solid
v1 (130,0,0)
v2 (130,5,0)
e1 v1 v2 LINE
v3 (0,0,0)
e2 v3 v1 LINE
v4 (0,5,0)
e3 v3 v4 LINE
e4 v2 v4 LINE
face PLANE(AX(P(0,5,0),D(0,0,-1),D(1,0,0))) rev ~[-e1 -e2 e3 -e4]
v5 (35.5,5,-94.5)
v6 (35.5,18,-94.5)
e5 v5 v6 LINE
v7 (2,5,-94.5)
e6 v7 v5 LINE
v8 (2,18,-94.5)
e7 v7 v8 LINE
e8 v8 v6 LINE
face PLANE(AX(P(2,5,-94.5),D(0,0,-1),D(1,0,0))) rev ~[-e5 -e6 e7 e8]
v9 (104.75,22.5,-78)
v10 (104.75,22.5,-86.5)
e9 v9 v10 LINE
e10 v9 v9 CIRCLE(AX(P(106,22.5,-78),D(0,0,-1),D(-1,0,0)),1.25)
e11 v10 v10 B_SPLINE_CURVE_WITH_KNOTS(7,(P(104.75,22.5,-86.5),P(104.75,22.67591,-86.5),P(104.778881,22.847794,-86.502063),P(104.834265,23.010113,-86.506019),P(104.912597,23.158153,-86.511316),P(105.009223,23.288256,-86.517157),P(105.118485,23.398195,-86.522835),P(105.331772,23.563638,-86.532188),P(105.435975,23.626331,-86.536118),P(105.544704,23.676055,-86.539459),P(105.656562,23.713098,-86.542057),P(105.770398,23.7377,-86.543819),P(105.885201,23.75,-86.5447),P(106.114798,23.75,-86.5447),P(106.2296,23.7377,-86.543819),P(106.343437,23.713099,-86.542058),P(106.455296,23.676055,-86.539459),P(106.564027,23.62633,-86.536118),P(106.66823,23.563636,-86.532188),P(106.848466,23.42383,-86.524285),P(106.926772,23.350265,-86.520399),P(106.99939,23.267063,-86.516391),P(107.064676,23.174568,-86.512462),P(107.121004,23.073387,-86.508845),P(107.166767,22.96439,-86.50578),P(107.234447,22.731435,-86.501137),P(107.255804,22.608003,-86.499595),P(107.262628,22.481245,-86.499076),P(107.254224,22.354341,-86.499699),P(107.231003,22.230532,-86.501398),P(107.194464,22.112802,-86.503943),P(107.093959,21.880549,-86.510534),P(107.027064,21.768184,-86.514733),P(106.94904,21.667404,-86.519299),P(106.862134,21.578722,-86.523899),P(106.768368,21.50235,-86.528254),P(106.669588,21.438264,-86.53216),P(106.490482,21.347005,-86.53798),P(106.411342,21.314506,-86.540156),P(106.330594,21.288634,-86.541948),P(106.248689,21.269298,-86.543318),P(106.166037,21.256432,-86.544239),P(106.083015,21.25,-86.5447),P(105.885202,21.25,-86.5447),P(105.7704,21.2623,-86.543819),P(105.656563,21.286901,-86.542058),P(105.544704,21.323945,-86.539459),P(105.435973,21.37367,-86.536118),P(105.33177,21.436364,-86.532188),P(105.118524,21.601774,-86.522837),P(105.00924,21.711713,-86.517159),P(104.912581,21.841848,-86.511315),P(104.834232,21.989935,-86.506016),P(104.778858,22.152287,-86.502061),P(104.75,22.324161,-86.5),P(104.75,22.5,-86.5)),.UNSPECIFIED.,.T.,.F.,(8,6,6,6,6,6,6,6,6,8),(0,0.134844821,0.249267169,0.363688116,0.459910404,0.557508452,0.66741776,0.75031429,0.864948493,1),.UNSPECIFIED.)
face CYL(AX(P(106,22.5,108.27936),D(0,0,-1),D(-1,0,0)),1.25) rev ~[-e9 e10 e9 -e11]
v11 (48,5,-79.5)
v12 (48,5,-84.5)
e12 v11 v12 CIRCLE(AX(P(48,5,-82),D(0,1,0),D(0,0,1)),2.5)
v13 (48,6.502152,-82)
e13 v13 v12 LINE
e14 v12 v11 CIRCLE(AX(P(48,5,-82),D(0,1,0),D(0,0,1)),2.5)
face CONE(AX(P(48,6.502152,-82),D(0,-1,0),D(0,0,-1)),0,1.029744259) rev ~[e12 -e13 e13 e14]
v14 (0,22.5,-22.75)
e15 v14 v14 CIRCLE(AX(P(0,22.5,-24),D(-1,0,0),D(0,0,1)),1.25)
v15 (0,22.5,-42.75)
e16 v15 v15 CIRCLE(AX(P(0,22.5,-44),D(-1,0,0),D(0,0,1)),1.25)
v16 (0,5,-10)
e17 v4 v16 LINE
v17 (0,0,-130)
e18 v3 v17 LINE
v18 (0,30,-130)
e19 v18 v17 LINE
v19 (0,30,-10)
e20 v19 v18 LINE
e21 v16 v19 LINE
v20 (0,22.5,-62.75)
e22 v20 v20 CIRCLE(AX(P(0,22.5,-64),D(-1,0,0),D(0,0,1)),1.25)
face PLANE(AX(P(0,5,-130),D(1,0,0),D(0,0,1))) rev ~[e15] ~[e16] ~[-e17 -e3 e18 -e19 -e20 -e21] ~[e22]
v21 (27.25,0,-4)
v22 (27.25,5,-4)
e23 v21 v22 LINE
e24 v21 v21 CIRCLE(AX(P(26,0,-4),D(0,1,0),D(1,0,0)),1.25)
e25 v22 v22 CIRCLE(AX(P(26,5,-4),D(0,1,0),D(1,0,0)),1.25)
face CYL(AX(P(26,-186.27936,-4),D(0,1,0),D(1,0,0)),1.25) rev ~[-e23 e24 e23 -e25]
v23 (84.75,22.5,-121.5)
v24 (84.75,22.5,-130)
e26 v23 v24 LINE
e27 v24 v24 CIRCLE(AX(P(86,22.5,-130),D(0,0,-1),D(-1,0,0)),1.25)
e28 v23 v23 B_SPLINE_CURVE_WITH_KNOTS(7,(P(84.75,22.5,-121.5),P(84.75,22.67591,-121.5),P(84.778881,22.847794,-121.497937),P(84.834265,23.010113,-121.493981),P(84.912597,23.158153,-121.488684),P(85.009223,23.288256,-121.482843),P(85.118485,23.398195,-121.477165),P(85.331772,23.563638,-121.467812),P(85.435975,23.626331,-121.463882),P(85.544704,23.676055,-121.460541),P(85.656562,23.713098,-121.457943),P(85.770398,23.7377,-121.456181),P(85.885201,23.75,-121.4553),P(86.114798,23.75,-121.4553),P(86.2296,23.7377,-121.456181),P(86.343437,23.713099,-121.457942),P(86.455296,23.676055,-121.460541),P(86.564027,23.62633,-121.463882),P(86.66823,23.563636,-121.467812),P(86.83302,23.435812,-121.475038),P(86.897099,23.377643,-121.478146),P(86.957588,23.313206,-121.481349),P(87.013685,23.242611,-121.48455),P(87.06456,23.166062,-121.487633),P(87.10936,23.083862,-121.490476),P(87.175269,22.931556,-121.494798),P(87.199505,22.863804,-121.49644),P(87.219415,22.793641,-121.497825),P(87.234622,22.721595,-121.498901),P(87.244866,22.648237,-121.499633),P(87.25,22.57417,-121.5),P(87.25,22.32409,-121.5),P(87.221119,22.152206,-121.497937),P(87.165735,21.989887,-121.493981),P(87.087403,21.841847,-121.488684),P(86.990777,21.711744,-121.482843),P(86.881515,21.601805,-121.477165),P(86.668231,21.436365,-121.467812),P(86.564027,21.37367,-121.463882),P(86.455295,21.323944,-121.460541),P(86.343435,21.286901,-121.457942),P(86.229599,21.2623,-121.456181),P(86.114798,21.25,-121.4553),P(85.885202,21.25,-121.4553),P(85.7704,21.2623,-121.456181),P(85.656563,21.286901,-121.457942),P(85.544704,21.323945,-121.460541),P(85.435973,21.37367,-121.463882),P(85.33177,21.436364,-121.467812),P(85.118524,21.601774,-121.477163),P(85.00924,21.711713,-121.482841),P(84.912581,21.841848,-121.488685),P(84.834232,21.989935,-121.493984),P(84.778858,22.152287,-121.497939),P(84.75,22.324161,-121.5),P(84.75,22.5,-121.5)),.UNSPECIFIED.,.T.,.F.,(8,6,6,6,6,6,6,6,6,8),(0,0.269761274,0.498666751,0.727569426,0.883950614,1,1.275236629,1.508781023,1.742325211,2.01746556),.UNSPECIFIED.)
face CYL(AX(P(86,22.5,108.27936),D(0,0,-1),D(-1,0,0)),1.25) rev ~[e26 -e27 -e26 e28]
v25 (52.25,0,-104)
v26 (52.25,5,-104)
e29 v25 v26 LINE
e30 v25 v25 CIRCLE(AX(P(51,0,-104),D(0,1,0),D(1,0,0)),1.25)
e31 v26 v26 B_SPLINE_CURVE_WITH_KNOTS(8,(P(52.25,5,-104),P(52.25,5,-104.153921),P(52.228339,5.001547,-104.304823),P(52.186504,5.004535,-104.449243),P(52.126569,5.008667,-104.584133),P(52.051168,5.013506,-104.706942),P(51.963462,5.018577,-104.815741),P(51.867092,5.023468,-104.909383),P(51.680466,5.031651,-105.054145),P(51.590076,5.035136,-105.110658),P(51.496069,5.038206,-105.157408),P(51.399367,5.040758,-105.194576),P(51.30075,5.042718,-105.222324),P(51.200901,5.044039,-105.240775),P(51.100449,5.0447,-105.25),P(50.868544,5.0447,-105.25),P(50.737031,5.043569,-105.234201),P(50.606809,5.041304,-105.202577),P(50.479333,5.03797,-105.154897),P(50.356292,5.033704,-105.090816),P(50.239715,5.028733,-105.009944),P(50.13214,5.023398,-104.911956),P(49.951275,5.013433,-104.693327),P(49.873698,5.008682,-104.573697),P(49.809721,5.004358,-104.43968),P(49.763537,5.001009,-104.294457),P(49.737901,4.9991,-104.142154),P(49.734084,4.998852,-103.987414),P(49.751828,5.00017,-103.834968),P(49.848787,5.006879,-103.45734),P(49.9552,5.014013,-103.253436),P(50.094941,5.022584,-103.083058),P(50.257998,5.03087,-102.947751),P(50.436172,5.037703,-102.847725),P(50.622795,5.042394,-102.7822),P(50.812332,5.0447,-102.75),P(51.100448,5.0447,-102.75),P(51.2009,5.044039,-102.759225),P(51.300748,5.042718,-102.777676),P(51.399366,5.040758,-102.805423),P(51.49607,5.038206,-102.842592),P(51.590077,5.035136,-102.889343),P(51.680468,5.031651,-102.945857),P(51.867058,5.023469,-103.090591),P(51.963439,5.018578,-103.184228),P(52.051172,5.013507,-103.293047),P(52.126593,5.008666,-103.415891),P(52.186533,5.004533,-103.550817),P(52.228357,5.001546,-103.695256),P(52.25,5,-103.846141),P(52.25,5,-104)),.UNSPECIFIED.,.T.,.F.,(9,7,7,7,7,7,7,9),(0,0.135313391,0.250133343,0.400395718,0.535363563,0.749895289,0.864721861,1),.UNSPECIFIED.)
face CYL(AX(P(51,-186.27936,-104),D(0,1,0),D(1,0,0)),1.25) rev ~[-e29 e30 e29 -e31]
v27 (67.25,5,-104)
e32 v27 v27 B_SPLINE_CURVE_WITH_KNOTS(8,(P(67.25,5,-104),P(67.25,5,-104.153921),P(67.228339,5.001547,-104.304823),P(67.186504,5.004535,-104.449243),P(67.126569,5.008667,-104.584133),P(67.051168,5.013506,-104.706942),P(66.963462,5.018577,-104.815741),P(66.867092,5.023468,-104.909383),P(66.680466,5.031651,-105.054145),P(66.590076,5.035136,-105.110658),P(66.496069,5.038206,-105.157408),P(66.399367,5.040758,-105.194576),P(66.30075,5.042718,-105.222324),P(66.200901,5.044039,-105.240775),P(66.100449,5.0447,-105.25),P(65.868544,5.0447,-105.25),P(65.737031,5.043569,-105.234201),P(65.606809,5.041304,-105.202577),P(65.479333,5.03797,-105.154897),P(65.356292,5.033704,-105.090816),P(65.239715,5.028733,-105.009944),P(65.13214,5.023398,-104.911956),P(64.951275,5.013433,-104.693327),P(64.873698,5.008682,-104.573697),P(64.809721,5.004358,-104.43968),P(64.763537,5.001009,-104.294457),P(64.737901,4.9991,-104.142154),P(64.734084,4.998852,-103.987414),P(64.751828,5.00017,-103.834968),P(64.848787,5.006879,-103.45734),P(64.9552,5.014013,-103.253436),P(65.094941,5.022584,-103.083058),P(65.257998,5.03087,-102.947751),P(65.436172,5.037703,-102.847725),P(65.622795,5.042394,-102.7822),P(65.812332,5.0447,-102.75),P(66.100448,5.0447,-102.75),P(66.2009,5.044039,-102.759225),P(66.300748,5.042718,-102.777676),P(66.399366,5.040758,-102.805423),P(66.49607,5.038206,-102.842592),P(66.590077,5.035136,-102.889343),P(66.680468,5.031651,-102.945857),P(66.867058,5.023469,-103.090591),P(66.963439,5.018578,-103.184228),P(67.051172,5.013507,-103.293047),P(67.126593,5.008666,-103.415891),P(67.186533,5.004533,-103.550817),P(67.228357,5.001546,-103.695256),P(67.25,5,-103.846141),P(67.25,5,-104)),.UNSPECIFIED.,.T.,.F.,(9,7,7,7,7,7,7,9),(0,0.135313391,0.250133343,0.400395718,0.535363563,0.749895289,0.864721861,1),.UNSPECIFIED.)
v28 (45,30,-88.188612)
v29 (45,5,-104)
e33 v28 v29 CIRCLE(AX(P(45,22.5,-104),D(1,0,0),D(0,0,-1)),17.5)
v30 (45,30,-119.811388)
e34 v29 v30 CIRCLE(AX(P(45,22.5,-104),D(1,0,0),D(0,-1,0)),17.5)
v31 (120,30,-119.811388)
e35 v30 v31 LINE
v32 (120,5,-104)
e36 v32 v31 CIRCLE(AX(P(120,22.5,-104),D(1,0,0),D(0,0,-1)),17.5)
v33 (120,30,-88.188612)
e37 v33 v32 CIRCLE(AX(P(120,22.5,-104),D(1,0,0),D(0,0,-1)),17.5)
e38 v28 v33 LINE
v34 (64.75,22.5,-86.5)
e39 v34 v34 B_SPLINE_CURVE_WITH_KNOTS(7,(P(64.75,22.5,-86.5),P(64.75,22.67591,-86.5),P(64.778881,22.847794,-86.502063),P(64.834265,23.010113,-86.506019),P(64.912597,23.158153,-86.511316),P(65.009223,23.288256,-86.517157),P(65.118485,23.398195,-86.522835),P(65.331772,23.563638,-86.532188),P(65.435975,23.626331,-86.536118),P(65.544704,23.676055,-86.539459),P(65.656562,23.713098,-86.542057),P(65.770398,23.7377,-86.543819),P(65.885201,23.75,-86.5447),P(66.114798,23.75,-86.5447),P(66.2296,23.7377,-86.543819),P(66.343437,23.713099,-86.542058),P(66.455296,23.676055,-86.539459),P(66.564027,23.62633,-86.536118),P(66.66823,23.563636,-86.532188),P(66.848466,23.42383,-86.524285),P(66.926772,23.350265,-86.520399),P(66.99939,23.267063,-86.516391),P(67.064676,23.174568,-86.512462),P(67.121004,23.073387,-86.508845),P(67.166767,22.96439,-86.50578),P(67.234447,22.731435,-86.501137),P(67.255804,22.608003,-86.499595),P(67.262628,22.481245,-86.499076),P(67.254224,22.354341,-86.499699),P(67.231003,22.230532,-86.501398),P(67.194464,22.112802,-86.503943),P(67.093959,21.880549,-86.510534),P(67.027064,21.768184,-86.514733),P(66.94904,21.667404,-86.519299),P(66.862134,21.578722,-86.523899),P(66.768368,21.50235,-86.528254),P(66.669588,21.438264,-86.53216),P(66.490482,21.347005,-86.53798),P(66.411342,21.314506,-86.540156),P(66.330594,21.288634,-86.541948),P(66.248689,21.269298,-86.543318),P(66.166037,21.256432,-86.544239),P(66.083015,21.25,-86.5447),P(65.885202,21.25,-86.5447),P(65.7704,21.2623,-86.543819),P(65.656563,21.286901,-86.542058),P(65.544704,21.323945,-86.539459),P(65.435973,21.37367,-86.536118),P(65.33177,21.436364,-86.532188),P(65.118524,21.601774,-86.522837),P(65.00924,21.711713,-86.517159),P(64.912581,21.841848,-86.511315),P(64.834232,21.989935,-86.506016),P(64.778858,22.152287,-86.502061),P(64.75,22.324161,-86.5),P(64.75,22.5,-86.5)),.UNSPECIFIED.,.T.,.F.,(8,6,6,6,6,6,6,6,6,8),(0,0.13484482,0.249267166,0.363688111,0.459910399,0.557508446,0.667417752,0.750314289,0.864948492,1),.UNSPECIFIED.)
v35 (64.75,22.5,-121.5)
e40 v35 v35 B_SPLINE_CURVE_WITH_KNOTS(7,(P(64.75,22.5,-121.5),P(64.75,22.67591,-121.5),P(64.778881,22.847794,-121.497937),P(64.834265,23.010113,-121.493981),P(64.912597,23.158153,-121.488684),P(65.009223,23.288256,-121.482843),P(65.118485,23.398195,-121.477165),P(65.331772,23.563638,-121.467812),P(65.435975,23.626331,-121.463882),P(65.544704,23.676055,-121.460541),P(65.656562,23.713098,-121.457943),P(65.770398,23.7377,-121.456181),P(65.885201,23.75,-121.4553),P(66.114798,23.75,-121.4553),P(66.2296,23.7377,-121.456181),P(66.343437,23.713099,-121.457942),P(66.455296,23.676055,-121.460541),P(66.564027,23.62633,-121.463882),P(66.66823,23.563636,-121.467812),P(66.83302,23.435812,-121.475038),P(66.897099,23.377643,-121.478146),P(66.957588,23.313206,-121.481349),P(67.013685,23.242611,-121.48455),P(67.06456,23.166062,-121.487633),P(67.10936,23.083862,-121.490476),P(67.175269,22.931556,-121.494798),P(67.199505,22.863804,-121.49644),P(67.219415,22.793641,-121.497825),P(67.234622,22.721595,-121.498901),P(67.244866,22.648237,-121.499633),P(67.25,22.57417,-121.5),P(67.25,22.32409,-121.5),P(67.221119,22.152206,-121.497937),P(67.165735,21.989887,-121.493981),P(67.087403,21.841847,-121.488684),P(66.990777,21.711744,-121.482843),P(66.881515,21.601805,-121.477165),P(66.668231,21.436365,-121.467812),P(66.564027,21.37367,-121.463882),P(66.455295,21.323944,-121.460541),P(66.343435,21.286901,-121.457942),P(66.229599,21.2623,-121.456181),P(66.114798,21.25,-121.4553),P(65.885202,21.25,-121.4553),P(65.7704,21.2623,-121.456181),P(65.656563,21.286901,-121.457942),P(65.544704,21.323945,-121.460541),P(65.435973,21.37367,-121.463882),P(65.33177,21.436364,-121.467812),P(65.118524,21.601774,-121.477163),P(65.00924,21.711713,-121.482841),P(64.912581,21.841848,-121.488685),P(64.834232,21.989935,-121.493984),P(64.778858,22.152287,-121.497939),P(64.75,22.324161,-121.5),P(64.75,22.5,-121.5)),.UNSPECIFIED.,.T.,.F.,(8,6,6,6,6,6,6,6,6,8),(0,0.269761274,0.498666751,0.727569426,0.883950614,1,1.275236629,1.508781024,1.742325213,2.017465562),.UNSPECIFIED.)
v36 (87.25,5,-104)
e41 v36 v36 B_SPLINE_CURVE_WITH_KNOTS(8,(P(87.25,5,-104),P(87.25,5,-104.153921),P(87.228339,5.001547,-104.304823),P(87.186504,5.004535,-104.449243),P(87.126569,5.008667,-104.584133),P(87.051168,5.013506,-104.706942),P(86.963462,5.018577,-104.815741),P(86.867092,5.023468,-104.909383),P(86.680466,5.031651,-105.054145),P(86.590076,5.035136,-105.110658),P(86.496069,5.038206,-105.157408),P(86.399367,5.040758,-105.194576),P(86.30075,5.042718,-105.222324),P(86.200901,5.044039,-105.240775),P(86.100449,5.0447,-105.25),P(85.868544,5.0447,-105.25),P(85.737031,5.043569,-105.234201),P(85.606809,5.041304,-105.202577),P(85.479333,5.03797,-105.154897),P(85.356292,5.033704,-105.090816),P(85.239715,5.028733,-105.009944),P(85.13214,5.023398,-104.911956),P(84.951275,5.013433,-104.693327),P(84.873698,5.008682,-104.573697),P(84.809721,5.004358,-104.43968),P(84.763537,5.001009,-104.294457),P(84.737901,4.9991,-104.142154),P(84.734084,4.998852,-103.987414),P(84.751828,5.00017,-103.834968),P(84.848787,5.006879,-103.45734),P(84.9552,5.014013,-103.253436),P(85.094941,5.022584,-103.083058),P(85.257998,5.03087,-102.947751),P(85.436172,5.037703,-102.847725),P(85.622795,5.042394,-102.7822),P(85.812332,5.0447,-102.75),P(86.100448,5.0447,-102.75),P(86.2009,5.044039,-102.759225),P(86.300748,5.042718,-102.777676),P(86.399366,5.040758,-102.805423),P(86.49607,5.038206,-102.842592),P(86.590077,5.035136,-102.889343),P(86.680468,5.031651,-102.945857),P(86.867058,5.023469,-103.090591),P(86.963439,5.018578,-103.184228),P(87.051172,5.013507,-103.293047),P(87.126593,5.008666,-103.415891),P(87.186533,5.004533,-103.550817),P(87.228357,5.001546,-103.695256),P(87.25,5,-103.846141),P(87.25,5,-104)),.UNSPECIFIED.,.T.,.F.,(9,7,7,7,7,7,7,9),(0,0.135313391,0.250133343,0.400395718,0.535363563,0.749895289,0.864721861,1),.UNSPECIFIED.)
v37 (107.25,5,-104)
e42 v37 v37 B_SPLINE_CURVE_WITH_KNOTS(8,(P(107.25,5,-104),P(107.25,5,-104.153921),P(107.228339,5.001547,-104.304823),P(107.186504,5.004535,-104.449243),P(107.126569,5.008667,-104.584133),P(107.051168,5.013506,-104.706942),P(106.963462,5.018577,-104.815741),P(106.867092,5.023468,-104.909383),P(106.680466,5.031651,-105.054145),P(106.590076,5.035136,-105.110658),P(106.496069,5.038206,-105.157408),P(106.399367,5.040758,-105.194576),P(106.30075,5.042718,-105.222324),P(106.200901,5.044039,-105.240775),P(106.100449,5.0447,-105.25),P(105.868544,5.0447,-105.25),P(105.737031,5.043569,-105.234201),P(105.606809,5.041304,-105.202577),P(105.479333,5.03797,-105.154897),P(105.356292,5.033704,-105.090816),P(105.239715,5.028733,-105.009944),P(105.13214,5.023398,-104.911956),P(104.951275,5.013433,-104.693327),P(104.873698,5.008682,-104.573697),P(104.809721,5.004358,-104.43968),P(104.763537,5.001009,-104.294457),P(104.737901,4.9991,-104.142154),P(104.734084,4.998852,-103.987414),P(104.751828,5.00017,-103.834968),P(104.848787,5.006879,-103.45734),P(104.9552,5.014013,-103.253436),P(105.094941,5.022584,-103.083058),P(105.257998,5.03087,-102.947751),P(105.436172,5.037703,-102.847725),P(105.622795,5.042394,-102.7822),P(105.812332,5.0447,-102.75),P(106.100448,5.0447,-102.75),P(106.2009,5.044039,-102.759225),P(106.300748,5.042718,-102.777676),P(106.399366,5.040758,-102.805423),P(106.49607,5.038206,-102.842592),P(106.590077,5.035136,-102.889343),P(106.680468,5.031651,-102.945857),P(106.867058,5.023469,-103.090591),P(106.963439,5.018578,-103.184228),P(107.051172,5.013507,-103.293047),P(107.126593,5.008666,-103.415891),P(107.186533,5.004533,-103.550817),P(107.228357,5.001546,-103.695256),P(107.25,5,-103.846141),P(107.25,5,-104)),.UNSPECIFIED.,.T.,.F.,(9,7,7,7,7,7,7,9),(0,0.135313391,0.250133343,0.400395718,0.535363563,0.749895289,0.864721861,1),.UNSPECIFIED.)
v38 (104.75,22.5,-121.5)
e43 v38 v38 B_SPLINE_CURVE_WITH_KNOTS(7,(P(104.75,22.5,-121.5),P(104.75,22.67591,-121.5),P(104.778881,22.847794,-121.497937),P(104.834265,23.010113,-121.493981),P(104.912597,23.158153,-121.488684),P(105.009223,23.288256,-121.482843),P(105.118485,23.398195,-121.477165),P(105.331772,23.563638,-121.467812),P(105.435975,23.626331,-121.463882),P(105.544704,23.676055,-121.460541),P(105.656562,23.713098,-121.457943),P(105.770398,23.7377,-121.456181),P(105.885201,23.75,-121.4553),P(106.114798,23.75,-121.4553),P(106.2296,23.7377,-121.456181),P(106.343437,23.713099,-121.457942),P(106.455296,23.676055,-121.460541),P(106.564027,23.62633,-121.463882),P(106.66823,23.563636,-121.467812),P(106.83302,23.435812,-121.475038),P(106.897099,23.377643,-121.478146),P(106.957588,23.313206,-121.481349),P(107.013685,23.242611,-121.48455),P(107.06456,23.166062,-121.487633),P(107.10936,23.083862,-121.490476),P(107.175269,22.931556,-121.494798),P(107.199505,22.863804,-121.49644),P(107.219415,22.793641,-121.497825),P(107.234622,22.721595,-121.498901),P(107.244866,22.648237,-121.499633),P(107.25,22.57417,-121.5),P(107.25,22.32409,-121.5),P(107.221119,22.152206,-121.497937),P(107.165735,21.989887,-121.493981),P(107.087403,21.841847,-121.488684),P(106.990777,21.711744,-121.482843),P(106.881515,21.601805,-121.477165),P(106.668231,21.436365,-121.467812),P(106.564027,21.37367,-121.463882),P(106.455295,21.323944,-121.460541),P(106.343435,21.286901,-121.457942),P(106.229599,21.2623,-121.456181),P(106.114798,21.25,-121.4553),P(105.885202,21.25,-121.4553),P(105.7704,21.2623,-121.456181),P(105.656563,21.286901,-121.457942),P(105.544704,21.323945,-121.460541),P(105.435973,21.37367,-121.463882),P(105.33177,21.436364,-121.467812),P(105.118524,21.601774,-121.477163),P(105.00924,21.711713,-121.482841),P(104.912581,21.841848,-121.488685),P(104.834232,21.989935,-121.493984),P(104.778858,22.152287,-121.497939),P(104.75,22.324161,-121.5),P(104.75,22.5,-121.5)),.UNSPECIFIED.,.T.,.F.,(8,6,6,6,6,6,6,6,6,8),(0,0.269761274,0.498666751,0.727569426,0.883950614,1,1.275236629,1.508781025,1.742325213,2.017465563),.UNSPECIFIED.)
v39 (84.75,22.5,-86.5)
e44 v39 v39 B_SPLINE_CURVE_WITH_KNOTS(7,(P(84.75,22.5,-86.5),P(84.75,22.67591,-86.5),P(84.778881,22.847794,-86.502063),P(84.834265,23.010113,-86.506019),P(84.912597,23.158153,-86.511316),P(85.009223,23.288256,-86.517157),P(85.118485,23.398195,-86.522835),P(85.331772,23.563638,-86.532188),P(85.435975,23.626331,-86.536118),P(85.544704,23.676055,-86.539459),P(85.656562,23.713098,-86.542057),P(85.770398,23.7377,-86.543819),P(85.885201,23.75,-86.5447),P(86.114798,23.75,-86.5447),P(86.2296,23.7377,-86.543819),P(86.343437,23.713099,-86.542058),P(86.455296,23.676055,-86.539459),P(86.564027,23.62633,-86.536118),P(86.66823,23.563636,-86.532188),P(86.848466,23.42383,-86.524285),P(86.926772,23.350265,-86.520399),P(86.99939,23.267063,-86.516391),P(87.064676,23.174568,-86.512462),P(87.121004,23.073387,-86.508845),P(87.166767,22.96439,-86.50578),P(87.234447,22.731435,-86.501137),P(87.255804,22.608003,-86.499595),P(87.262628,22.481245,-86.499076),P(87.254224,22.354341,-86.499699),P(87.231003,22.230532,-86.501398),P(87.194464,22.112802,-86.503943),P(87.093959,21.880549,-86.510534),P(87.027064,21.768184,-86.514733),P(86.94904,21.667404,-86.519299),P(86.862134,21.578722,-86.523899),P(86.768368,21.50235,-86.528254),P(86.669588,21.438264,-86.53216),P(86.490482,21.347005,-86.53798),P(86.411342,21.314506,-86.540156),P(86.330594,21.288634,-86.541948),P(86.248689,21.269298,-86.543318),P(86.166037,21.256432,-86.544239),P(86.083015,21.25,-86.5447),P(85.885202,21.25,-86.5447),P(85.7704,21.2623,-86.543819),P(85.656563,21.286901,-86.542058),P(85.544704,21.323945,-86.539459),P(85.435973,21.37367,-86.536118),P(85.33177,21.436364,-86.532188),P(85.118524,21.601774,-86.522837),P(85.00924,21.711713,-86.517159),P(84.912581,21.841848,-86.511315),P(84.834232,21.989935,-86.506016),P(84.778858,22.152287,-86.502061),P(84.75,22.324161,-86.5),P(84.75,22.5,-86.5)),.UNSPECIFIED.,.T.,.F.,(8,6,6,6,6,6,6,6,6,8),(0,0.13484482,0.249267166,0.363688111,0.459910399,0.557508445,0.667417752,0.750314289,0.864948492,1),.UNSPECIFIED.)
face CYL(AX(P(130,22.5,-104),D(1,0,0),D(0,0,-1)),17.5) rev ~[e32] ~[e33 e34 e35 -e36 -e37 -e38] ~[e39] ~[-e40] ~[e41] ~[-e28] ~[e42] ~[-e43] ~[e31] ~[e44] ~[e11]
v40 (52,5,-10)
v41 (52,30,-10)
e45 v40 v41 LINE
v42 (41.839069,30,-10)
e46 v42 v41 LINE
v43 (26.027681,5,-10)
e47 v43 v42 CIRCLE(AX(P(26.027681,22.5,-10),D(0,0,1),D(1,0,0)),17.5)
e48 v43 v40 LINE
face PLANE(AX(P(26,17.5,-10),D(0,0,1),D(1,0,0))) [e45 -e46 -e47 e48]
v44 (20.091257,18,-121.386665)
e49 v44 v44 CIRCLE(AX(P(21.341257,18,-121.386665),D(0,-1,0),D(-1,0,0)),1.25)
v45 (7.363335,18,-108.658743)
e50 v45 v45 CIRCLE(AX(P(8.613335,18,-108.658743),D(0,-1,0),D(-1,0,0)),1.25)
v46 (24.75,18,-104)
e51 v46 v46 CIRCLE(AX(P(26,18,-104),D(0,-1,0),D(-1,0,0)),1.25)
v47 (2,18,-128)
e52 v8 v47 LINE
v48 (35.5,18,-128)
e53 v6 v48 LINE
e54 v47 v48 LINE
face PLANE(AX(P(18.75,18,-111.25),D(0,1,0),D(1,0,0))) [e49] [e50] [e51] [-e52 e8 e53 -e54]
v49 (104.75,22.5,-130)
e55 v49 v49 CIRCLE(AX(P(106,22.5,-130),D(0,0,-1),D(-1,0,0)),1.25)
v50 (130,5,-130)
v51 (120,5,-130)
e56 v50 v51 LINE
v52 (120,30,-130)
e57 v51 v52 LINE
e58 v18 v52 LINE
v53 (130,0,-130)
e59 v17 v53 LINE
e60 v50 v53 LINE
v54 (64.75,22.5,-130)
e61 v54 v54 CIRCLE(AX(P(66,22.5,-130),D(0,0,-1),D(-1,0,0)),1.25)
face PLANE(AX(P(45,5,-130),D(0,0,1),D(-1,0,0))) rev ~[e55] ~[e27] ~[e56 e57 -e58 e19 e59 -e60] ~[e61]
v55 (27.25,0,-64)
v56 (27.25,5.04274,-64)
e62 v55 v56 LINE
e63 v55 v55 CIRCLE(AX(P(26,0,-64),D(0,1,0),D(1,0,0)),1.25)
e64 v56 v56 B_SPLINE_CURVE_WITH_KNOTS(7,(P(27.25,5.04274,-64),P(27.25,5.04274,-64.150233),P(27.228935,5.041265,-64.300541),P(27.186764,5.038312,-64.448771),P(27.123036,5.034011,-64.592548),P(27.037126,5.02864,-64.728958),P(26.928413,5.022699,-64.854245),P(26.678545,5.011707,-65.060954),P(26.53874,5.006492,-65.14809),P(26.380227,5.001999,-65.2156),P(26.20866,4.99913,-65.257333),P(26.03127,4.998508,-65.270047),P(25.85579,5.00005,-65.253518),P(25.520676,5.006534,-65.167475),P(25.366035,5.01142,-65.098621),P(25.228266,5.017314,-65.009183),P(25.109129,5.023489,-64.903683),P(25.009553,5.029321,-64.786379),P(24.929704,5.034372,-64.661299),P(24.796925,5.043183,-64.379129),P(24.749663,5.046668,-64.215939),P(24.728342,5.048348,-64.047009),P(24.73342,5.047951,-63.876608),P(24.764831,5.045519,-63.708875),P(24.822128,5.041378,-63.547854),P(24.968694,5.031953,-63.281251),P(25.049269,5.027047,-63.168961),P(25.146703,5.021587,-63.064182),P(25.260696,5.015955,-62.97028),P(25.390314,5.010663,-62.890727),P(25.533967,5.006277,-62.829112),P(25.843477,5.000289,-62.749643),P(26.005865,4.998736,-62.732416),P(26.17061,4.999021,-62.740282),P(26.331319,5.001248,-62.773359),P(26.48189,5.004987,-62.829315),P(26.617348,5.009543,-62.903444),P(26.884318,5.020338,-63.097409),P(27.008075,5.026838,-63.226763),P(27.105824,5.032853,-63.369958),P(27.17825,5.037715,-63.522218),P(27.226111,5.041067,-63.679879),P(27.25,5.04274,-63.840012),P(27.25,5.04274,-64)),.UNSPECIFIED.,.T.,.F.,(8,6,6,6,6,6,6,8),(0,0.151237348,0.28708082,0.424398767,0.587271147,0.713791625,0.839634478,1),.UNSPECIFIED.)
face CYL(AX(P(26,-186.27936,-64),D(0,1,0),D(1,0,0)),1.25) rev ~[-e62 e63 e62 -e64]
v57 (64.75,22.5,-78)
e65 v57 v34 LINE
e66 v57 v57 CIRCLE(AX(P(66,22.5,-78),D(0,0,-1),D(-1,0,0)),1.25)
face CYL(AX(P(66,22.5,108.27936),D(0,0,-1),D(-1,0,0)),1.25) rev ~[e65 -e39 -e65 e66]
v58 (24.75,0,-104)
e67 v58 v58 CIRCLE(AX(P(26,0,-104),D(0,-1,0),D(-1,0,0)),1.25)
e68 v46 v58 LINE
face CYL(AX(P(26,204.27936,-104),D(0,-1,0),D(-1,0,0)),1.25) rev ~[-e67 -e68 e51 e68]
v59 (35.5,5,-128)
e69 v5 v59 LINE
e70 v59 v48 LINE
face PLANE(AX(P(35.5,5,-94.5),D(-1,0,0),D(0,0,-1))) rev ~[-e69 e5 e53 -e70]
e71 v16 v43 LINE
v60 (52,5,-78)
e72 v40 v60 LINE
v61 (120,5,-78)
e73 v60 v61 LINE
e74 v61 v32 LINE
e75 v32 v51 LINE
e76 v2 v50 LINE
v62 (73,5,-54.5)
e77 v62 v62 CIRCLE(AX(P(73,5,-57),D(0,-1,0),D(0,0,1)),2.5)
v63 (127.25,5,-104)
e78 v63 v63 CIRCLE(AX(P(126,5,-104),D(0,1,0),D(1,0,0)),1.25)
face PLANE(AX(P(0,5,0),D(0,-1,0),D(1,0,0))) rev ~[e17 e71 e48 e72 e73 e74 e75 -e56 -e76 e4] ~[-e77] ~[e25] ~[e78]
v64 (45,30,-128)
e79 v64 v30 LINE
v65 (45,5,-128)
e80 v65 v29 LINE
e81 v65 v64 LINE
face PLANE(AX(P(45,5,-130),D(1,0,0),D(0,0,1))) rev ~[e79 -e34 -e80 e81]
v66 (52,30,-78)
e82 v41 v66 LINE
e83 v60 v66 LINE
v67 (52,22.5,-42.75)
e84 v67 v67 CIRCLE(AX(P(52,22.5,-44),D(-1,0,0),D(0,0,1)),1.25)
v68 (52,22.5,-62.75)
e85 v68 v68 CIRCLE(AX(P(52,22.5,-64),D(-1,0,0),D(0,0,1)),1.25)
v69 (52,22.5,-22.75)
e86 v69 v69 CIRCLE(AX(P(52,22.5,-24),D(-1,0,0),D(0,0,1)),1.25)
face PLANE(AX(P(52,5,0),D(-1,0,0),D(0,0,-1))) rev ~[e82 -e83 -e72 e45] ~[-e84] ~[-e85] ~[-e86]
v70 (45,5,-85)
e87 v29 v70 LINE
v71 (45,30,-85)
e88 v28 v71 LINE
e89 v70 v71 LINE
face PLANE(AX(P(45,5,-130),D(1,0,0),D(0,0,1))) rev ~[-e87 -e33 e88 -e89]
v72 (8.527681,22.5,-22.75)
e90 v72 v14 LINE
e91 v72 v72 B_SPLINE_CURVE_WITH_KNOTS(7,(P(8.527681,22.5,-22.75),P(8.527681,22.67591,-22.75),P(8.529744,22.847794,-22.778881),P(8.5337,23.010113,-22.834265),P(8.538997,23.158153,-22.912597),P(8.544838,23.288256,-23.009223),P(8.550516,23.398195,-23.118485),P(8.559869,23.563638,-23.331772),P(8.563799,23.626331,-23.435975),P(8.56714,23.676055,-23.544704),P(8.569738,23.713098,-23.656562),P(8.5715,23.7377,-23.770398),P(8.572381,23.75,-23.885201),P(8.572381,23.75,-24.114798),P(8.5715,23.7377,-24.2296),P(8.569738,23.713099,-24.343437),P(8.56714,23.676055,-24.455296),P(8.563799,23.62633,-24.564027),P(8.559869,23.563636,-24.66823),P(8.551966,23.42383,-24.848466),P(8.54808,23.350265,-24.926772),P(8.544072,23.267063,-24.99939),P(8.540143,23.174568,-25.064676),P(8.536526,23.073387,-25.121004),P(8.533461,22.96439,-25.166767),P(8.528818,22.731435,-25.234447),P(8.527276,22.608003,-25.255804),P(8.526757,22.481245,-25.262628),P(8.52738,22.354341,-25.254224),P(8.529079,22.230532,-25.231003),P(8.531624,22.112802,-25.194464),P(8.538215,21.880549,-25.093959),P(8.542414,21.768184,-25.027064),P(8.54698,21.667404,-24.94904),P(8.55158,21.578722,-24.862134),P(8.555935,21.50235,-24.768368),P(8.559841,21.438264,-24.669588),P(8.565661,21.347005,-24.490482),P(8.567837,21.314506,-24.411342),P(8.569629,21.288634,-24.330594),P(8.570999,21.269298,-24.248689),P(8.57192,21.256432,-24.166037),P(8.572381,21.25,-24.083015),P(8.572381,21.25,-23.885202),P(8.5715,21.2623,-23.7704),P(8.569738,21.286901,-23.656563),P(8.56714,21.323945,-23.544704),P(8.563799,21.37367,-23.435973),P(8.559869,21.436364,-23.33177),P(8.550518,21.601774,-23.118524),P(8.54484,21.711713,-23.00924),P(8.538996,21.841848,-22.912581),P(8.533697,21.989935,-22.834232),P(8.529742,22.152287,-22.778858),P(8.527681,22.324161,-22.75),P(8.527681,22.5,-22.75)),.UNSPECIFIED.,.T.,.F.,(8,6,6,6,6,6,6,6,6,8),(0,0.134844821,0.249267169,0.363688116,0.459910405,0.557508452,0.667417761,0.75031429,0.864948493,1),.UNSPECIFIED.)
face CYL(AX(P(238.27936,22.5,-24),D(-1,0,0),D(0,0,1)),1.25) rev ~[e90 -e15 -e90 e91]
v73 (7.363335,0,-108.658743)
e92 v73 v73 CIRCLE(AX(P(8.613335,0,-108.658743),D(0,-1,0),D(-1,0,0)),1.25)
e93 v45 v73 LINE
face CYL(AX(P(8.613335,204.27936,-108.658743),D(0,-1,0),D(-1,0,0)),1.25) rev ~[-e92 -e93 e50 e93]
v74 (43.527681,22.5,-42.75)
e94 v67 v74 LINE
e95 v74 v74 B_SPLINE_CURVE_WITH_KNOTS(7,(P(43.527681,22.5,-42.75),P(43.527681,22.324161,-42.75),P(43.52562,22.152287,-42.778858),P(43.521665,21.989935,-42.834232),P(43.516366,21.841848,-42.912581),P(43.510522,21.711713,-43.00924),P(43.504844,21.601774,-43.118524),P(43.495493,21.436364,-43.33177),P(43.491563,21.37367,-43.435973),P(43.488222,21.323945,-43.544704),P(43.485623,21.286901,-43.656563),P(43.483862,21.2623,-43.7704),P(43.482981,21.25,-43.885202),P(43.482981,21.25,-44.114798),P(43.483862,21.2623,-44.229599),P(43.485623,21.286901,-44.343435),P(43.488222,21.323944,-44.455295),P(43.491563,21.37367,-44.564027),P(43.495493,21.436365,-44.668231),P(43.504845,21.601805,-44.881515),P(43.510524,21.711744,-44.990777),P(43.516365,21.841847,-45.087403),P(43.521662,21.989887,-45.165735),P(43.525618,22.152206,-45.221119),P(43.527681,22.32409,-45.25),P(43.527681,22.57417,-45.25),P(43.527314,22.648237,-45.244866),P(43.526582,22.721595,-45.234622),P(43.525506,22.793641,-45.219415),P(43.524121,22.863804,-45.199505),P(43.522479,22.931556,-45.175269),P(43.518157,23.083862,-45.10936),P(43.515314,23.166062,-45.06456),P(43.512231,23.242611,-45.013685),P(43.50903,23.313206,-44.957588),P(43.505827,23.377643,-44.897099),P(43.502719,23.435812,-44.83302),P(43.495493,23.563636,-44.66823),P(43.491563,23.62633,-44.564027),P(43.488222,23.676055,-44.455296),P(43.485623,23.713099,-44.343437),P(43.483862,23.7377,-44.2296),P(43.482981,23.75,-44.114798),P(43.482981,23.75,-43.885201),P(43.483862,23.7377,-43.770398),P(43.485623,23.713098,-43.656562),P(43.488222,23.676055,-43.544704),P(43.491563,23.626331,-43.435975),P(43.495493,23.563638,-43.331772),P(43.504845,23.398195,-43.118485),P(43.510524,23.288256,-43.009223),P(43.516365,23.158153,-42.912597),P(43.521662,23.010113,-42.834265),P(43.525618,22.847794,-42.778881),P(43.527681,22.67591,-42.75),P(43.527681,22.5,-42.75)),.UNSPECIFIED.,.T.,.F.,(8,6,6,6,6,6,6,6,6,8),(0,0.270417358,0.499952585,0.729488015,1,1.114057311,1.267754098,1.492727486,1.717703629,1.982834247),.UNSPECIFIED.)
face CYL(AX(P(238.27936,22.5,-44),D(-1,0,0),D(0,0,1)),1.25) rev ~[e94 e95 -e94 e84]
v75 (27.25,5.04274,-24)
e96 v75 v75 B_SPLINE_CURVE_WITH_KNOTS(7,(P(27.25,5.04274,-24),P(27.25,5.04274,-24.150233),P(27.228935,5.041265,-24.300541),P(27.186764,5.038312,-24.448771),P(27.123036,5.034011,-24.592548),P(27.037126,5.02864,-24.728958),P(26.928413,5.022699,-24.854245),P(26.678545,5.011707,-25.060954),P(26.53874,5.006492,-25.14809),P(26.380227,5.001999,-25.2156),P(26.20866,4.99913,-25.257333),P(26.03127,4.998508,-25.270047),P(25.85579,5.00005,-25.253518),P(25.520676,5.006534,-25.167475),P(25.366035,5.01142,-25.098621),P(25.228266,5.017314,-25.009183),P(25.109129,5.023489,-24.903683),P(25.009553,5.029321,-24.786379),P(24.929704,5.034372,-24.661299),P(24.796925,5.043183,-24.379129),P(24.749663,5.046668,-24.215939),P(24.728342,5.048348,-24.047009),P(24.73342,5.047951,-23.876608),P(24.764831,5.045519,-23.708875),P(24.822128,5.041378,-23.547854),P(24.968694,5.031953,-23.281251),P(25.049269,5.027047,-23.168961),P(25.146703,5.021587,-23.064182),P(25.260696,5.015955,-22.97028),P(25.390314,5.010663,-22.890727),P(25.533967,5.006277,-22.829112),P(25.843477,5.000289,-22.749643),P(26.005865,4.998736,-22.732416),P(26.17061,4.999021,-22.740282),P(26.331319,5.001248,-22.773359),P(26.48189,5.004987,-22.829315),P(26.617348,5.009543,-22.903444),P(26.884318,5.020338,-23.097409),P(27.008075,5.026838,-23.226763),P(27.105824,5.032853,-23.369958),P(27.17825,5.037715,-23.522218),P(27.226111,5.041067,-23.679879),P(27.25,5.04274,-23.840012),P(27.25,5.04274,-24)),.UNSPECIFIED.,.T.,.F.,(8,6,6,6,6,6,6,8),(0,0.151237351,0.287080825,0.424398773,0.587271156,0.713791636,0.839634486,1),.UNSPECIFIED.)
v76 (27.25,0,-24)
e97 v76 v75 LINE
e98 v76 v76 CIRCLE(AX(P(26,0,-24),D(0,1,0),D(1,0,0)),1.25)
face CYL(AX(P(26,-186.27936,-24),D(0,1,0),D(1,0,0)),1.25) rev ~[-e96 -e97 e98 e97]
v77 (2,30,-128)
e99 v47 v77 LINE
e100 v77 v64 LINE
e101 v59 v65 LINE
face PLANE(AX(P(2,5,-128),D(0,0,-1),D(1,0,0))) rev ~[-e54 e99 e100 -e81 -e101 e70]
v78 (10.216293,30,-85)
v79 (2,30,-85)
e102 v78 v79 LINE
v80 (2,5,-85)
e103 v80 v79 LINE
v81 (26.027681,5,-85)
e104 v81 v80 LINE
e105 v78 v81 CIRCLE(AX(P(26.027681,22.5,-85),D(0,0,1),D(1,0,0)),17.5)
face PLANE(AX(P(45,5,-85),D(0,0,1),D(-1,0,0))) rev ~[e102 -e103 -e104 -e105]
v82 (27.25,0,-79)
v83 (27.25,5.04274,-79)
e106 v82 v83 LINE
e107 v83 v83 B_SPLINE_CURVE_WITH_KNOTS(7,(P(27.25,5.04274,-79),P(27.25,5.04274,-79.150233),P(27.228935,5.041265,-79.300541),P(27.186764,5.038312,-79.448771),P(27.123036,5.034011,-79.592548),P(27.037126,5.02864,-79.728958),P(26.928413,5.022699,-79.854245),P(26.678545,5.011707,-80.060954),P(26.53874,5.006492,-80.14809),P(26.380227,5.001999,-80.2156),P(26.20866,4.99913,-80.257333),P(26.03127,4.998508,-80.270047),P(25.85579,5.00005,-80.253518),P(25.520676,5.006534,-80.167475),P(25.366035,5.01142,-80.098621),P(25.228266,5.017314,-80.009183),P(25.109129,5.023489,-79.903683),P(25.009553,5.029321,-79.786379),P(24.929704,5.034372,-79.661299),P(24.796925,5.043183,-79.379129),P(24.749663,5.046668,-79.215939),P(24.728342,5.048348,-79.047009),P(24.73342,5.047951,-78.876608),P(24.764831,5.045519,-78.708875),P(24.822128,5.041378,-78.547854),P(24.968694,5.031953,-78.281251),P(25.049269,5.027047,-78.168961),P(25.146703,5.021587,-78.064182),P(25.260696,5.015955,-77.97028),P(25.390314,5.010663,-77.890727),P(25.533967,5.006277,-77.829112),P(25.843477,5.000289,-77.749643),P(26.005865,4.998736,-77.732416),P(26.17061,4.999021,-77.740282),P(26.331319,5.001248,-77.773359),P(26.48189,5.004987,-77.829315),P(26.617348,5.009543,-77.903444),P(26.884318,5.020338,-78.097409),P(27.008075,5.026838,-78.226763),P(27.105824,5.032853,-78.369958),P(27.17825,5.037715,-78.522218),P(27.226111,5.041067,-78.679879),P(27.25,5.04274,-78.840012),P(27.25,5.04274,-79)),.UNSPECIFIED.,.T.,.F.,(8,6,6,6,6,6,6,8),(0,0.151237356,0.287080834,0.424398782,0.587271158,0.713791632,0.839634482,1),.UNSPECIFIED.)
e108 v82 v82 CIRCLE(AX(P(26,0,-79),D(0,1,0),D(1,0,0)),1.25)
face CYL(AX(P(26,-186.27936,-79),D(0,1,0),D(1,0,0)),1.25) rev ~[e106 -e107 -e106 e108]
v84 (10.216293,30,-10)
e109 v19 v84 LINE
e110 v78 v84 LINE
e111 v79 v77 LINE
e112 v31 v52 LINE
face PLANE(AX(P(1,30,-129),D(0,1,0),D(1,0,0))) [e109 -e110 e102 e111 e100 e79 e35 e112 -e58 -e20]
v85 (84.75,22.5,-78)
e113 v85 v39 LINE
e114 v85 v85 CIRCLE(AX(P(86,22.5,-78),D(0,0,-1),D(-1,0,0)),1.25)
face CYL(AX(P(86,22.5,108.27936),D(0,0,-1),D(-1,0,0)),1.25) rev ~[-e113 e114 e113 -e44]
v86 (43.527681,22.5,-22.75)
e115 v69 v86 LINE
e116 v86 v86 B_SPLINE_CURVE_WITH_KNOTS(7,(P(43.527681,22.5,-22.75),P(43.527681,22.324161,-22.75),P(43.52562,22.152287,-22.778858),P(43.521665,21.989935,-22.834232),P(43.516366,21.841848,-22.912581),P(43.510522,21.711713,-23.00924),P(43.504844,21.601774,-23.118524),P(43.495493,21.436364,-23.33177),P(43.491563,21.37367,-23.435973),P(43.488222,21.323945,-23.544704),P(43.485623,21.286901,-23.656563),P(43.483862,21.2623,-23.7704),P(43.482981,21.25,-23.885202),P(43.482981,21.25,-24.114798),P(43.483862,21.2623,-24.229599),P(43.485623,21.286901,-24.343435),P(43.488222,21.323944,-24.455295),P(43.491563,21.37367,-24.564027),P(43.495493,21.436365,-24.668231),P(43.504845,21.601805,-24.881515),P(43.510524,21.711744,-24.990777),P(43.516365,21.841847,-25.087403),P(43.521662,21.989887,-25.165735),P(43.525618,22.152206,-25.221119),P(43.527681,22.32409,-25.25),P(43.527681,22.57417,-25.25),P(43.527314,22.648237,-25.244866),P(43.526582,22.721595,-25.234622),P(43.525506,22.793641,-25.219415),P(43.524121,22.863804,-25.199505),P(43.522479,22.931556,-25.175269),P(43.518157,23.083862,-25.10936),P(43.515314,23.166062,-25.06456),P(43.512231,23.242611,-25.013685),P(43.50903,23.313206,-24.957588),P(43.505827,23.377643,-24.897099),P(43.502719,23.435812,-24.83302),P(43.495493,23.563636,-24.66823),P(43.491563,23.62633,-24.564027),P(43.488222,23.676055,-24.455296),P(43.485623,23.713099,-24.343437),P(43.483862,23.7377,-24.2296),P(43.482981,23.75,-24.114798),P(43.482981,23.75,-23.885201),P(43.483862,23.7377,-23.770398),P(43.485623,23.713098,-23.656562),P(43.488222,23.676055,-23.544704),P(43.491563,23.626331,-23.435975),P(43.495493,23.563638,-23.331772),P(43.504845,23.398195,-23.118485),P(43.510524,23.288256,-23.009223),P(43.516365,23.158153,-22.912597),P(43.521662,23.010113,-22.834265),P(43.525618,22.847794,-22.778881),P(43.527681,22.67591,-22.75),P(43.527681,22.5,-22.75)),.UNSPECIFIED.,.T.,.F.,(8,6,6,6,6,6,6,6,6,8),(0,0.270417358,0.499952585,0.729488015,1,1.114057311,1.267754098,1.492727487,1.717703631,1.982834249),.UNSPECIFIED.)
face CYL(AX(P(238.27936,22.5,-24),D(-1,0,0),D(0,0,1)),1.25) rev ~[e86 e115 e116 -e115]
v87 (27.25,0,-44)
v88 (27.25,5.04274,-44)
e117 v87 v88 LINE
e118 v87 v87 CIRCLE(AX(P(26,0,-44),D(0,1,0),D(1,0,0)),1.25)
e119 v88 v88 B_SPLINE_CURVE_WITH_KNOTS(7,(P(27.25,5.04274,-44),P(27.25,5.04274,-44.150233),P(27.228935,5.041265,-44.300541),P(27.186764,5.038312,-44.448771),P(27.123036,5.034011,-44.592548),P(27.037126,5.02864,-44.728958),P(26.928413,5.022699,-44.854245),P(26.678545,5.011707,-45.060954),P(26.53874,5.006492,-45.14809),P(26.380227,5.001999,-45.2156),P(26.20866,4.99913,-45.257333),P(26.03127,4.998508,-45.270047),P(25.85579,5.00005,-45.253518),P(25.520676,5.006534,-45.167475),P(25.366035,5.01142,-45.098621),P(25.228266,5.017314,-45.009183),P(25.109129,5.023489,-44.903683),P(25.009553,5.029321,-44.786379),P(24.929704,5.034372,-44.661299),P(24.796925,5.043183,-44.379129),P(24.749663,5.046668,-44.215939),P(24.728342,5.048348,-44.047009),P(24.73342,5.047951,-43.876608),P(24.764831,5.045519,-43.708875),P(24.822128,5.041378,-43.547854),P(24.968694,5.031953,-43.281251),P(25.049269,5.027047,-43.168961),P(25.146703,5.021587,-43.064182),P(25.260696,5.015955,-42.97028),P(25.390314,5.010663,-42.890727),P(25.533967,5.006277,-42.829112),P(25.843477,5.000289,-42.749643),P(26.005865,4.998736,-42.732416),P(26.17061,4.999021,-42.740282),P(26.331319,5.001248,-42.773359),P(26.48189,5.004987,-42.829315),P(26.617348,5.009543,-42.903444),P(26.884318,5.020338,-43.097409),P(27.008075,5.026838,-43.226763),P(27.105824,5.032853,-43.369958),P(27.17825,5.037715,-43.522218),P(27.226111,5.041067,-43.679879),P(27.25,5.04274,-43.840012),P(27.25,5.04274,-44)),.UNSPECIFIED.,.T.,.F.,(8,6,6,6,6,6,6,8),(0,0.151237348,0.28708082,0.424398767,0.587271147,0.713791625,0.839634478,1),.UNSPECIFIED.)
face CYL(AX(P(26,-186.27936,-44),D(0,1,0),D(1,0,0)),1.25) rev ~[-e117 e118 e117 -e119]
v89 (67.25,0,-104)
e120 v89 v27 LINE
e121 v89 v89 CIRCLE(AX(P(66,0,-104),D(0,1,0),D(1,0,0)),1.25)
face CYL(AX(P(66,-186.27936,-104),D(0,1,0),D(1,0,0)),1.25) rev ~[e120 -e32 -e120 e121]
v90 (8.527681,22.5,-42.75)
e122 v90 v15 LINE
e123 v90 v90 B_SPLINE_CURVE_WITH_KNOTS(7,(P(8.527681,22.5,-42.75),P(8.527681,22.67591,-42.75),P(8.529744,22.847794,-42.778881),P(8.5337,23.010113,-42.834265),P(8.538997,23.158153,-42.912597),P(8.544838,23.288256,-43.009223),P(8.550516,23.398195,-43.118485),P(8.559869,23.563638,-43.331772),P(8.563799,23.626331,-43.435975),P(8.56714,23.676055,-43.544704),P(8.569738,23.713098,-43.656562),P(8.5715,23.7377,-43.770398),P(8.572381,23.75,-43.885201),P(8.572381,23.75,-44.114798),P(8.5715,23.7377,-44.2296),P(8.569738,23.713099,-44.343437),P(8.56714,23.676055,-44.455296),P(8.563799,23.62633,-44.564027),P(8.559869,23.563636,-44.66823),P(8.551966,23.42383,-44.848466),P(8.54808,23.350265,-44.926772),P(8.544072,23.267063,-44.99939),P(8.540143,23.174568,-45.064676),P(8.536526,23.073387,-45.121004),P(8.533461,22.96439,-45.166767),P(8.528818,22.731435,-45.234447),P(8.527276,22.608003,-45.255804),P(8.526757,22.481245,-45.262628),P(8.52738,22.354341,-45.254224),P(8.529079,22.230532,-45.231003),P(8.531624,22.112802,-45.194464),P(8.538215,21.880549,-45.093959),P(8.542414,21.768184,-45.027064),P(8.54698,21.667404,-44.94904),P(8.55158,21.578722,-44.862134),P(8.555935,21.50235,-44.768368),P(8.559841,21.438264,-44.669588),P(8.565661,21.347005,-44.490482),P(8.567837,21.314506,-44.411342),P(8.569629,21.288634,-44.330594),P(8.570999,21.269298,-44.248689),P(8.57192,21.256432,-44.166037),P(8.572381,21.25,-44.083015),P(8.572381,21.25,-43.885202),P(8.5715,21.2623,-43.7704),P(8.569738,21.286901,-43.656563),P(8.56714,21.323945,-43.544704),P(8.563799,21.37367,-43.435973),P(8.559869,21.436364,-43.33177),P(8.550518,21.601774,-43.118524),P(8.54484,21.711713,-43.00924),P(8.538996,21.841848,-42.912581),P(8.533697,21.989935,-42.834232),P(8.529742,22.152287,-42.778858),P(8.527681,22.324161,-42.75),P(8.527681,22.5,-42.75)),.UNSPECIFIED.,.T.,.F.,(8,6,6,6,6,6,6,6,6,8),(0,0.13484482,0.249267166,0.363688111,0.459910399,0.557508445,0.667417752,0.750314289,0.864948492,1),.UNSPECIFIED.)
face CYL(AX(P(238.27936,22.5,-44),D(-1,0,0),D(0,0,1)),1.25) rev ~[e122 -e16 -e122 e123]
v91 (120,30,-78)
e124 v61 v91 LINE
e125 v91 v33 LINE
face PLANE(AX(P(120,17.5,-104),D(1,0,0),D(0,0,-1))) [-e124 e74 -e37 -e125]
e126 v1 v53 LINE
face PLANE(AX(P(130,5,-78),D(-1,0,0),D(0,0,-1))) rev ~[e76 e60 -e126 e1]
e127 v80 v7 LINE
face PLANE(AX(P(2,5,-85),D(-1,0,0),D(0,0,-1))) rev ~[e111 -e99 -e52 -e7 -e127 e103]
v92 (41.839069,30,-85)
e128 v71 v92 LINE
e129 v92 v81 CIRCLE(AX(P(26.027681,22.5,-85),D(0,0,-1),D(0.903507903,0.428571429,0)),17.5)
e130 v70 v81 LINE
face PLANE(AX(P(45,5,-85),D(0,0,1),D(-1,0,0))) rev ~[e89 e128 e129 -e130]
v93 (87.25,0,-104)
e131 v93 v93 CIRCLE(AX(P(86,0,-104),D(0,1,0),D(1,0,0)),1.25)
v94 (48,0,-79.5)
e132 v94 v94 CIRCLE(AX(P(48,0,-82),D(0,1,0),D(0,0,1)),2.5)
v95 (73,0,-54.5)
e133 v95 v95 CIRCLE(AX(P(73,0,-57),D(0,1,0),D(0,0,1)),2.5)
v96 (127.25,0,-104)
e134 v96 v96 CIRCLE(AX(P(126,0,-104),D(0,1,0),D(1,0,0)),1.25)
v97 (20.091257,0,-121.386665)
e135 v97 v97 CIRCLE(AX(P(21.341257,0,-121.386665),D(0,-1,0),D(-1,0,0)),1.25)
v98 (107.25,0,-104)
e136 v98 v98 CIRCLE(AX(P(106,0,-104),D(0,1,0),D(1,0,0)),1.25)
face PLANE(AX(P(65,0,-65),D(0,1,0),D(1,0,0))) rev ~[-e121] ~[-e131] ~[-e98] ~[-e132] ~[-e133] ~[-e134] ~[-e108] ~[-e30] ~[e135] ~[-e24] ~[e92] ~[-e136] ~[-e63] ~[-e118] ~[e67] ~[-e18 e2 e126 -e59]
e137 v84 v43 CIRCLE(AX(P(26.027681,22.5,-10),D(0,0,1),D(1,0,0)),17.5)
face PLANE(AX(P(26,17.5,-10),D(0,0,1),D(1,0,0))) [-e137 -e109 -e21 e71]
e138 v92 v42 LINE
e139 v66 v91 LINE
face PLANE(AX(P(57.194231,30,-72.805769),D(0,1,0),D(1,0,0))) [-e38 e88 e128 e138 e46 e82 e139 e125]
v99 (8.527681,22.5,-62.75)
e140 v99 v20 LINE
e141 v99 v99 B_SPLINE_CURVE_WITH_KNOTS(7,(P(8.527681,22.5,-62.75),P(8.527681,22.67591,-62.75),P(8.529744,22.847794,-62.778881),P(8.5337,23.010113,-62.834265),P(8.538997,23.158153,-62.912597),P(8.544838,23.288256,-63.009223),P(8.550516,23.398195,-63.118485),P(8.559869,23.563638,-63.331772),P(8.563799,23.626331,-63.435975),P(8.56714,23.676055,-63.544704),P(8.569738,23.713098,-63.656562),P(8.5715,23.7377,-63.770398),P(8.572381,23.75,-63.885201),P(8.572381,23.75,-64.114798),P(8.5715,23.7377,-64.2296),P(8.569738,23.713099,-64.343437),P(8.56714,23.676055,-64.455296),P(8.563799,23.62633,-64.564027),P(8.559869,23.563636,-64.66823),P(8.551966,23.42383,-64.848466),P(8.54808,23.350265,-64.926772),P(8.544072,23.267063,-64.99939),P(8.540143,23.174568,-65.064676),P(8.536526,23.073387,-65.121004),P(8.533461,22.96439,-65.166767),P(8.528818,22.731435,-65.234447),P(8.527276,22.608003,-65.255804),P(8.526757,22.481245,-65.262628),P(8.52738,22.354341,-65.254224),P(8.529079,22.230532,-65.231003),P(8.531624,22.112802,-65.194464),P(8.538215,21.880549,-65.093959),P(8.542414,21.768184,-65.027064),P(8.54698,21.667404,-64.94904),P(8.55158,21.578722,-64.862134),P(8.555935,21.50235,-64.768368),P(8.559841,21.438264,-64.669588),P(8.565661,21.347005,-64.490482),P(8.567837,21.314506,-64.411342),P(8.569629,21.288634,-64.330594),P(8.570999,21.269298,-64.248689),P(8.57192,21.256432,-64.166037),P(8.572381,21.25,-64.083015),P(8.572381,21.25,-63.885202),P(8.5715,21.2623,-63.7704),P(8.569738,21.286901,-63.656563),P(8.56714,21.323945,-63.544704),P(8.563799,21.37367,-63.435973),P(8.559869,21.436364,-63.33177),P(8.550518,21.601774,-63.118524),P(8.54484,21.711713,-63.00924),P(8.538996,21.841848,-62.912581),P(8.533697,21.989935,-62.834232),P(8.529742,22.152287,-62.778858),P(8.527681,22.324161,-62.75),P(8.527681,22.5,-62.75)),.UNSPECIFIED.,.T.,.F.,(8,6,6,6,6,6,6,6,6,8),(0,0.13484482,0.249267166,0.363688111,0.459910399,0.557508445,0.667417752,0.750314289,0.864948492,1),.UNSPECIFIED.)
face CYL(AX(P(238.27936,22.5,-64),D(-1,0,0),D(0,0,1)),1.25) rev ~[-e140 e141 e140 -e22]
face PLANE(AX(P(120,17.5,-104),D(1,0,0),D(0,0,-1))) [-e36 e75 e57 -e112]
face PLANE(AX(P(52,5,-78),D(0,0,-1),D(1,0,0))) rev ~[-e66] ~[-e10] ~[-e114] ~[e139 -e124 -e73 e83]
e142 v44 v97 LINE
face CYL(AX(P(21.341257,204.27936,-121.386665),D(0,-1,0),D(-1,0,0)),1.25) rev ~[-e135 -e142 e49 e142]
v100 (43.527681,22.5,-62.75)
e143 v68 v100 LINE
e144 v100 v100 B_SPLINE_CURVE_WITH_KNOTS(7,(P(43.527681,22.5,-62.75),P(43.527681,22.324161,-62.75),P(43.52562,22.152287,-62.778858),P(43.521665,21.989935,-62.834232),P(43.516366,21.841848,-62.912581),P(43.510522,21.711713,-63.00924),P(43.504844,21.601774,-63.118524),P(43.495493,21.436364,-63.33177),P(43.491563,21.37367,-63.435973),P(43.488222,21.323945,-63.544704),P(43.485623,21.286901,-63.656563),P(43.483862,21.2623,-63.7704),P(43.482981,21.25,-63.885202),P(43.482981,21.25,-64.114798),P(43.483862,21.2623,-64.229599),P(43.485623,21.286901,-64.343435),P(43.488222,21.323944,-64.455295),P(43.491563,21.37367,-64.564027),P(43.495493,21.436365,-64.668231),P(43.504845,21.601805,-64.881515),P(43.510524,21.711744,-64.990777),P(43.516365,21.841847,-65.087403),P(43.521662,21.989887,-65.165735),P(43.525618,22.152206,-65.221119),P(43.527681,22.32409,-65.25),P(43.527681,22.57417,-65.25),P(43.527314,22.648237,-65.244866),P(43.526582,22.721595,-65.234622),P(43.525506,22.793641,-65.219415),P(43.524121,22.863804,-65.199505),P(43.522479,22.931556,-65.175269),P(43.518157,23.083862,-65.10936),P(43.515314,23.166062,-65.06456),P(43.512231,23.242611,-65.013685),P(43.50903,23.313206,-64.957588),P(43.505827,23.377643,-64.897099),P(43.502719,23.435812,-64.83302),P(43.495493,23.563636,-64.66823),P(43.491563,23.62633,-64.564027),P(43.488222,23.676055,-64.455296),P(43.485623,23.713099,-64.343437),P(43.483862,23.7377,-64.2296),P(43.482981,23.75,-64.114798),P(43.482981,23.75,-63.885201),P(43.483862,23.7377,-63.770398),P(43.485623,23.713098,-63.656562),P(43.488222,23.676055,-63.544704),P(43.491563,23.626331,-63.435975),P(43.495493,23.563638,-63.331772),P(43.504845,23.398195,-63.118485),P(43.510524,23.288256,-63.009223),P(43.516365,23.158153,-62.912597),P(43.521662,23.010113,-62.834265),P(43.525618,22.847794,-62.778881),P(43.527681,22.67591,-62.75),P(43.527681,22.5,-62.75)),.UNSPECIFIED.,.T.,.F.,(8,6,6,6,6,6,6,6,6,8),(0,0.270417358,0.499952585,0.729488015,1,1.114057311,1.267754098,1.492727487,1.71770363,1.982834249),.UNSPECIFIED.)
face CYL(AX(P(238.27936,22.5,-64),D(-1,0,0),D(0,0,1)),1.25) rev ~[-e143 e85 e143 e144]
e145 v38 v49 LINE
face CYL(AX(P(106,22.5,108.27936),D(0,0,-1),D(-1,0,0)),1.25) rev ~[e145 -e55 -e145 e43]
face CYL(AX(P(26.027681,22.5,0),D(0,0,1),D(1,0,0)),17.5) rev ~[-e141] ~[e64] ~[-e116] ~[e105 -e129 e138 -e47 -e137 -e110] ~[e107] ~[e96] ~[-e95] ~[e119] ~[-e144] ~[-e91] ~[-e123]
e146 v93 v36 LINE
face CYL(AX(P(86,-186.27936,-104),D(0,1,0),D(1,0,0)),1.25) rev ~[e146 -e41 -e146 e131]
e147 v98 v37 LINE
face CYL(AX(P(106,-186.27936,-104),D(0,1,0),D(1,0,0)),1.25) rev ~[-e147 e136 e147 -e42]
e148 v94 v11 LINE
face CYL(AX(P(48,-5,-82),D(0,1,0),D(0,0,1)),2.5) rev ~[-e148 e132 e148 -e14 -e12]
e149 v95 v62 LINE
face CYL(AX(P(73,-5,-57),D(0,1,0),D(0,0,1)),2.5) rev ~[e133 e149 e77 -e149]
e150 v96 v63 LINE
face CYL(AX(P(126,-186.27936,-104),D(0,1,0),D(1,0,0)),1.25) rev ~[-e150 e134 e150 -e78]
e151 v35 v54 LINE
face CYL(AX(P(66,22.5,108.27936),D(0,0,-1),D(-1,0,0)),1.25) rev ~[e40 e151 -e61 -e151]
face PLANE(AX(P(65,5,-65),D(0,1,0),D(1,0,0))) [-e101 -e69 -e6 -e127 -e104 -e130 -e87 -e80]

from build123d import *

# Parameters (mm, degrees)
SKETCH_1_W             = 130
SKETCH_1_H             = 130
EXTRUDE_1251_DEPTH     = 5
EXTRUDE_1478_DEPTH     = 25
SKETCH_3_R             = 17.5
CUT_EXTRUDE_1_DEPTH    = 85
SKETCH_4_R             = 17.5
CUT_EXTRUDE_2_DEPTH    = 85
SKETCH_8_W             = 52
SKETCH_8_H             = 25
CUT_EXTRUDE_1_2_DEPTH  = 10
SKETCH_9_W             = 52
SKETCH_9_H             = 25
CUT_EXTRUDE_2_2_DEPTH  = 10
SKETCH_5_W             = 2
SKETCH_5_H             = 2
SKETCH_5_H_2           = 43
SKETCH_5_W_2           = 43
EXTRUDE_2758_DEPTH     = 25
SKETCH_7_W             = 33.5
SKETCH_7_H             = 33.5
EXTRUDE_2892_DEPTH     = 13
HOLE_WIZARD_2949_D     = 5
HOLE_WIZARD_2949_DEPTH = 5
HOLE_WIZARD_2949_TIP   = 1.502151548
HOLE_WIZARD_1_D        = 2.5
HOLE_WIZARD_2_D        = 2.5
HOLE_WIZARD_6774_D     = 2.5
HOLE_WIZARD_1_2_D      = 2.5
HOLE_WIZARD_2_2_D      = 2.5


with BuildPart() as part:
    # 草图1 → Extrude 1251 (new body)
    with BuildSketch(Plane(origin=(0, 0, 0), x_dir=(1, 0, 0), z_dir=(0, 1, 0))):
        with Locations((65, 65)):
            Rectangle(SKETCH_1_W, SKETCH_1_H)
    extrude(amount=EXTRUDE_1251_DEPTH)

    # 草图2 → Extrude 1478 (add)
    with BuildSketch(Plane(origin=(0, 5, 0), x_dir=(1, 0, 0), z_dir=(0, 1, 0))):
        Polygon((0, 85), (0, 0), (52, 0), (52, 78), (130, 78), (130, 130), (45, 130), (45, 85), align=None)
    extrude(amount=EXTRUDE_1478_DEPTH)

    # 草图3 → Cut-Extrude 1 (cut)
    with BuildSketch(Plane.XY):
        with Locations((26.027680942, 22.5)):
            Circle(SKETCH_3_R)
    extrude(amount=-CUT_EXTRUDE_1_DEPTH, mode=Mode.SUBTRACT)

    # 草图4 → Cut-Extrude 2 (cut)
    with BuildSketch(Plane(origin=(130, 0, 0), x_dir=(0, 0, -1), z_dir=(1, 0, 0))):
        with Locations((104, 22.5)):
            Circle(SKETCH_4_R)
    extrude(amount=-CUT_EXTRUDE_2_DEPTH, mode=Mode.SUBTRACT)

    # 草图8 → Cut-Extrude 1 2 (cut)
    with BuildSketch(Plane(origin=(130, 0, 0), x_dir=(0, 0, -1), z_dir=(1, 0, 0))):
        with Locations((104, 17.5)):
            Rectangle(SKETCH_8_W, SKETCH_8_H)
    extrude(amount=-CUT_EXTRUDE_1_2_DEPTH, mode=Mode.SUBTRACT)

    # 草图9 → Cut-Extrude 2 2 (cut)
    with BuildSketch(Plane.XY):
        with Locations((26, 17.5)):
            Rectangle(SKETCH_9_W, SKETCH_9_H)
    extrude(amount=-CUT_EXTRUDE_2_2_DEPTH, mode=Mode.SUBTRACT)

    # 草图5 → Extrude 2758 (add)
    with BuildSketch(Plane(origin=(0, 5, 0), x_dir=(1, 0, 0), z_dir=(0, 1, 0))):
        with Locations((1, 129)):
            Rectangle(SKETCH_5_W, SKETCH_5_H)
        with Locations((1, 106.5)):
            Rectangle(SKETCH_5_W, SKETCH_5_H_2)
        with Locations((23.5, 129)):
            Rectangle(SKETCH_5_W_2, SKETCH_5_H)
    extrude(amount=EXTRUDE_2758_DEPTH)

    # 草图7 → Extrude 2892 (add)
    with BuildSketch(Plane(origin=(0, 5, 0), x_dir=(1, 0, 0), z_dir=(0, 1, 0))):
        with Locations((18.75, 111.25)):
            Rectangle(SKETCH_7_W, SKETCH_7_H)
    extrude(amount=EXTRUDE_2892_DEPTH)

    # Hole Wizard 2949
    with Locations(Plane(origin=(48, 0, -82), x_dir=(0, 0, -1), z_dir=(0, -1, 0))):
        with Locations((0, 0), (-25, 25)):
            Hole(HOLE_WIZARD_2949_D / 2, depth=HOLE_WIZARD_2949_DEPTH)
            with Locations((0, 0, -(HOLE_WIZARD_2949_DEPTH + HOLE_WIZARD_2949_TIP / 2))):  # 118° drill point
                Cone(0, HOLE_WIZARD_2949_D / 2, HOLE_WIZARD_2949_TIP, mode=Mode.SUBTRACT)

    # Hole Wizard 1 (through all)
    with Locations(Plane(origin=(0, 0, 0), x_dir=(-1, 0, 0), z_dir=(0, -1, 0))):
        with Locations((-26, 64), (-26, 79), (-26, 44), (-26, 24), (-26, 4)):
            Hole(HOLE_WIZARD_1_D / 2)

    # Hole Wizard 2 (through all)
    with Locations(Plane(origin=(0, 0, 0), x_dir=(-1, 0, 0), z_dir=(0, -1, 0))):
        with Locations((-66, 104), (-51, 104), (-86, 104), (-106, 104), (-126, 104)):
            Hole(HOLE_WIZARD_2_D / 2)

    # Hole Wizard 6774 (through all)
    with Locations(Plane(origin=(0, 18, 0), x_dir=(1, 0, 0), z_dir=(0, 1, 0))):
        with Locations((21.341257188, 121.386664873), (8.613335127, 108.658742812), (26, 104)):
            Hole(HOLE_WIZARD_6774_D / 2)

    # Hole Wizard 1 2 (through all)
    with Locations(Plane(origin=(52, 0, 0), x_dir=(0, 0, -1), z_dir=(1, 0, 0))):
        with Locations((44, 22.5), (24, 22.5), (64, 22.5)):
            Hole(HOLE_WIZARD_1_2_D / 2)

    # Hole Wizard 2 2 (through all)
    with Locations(Plane.XY.offset(-78)):
        with Locations((86, 22.5), (106, 22.5), (66, 22.5)):
            Hole(HOLE_WIZARD_2_2_D / 2)


solid = part.part
